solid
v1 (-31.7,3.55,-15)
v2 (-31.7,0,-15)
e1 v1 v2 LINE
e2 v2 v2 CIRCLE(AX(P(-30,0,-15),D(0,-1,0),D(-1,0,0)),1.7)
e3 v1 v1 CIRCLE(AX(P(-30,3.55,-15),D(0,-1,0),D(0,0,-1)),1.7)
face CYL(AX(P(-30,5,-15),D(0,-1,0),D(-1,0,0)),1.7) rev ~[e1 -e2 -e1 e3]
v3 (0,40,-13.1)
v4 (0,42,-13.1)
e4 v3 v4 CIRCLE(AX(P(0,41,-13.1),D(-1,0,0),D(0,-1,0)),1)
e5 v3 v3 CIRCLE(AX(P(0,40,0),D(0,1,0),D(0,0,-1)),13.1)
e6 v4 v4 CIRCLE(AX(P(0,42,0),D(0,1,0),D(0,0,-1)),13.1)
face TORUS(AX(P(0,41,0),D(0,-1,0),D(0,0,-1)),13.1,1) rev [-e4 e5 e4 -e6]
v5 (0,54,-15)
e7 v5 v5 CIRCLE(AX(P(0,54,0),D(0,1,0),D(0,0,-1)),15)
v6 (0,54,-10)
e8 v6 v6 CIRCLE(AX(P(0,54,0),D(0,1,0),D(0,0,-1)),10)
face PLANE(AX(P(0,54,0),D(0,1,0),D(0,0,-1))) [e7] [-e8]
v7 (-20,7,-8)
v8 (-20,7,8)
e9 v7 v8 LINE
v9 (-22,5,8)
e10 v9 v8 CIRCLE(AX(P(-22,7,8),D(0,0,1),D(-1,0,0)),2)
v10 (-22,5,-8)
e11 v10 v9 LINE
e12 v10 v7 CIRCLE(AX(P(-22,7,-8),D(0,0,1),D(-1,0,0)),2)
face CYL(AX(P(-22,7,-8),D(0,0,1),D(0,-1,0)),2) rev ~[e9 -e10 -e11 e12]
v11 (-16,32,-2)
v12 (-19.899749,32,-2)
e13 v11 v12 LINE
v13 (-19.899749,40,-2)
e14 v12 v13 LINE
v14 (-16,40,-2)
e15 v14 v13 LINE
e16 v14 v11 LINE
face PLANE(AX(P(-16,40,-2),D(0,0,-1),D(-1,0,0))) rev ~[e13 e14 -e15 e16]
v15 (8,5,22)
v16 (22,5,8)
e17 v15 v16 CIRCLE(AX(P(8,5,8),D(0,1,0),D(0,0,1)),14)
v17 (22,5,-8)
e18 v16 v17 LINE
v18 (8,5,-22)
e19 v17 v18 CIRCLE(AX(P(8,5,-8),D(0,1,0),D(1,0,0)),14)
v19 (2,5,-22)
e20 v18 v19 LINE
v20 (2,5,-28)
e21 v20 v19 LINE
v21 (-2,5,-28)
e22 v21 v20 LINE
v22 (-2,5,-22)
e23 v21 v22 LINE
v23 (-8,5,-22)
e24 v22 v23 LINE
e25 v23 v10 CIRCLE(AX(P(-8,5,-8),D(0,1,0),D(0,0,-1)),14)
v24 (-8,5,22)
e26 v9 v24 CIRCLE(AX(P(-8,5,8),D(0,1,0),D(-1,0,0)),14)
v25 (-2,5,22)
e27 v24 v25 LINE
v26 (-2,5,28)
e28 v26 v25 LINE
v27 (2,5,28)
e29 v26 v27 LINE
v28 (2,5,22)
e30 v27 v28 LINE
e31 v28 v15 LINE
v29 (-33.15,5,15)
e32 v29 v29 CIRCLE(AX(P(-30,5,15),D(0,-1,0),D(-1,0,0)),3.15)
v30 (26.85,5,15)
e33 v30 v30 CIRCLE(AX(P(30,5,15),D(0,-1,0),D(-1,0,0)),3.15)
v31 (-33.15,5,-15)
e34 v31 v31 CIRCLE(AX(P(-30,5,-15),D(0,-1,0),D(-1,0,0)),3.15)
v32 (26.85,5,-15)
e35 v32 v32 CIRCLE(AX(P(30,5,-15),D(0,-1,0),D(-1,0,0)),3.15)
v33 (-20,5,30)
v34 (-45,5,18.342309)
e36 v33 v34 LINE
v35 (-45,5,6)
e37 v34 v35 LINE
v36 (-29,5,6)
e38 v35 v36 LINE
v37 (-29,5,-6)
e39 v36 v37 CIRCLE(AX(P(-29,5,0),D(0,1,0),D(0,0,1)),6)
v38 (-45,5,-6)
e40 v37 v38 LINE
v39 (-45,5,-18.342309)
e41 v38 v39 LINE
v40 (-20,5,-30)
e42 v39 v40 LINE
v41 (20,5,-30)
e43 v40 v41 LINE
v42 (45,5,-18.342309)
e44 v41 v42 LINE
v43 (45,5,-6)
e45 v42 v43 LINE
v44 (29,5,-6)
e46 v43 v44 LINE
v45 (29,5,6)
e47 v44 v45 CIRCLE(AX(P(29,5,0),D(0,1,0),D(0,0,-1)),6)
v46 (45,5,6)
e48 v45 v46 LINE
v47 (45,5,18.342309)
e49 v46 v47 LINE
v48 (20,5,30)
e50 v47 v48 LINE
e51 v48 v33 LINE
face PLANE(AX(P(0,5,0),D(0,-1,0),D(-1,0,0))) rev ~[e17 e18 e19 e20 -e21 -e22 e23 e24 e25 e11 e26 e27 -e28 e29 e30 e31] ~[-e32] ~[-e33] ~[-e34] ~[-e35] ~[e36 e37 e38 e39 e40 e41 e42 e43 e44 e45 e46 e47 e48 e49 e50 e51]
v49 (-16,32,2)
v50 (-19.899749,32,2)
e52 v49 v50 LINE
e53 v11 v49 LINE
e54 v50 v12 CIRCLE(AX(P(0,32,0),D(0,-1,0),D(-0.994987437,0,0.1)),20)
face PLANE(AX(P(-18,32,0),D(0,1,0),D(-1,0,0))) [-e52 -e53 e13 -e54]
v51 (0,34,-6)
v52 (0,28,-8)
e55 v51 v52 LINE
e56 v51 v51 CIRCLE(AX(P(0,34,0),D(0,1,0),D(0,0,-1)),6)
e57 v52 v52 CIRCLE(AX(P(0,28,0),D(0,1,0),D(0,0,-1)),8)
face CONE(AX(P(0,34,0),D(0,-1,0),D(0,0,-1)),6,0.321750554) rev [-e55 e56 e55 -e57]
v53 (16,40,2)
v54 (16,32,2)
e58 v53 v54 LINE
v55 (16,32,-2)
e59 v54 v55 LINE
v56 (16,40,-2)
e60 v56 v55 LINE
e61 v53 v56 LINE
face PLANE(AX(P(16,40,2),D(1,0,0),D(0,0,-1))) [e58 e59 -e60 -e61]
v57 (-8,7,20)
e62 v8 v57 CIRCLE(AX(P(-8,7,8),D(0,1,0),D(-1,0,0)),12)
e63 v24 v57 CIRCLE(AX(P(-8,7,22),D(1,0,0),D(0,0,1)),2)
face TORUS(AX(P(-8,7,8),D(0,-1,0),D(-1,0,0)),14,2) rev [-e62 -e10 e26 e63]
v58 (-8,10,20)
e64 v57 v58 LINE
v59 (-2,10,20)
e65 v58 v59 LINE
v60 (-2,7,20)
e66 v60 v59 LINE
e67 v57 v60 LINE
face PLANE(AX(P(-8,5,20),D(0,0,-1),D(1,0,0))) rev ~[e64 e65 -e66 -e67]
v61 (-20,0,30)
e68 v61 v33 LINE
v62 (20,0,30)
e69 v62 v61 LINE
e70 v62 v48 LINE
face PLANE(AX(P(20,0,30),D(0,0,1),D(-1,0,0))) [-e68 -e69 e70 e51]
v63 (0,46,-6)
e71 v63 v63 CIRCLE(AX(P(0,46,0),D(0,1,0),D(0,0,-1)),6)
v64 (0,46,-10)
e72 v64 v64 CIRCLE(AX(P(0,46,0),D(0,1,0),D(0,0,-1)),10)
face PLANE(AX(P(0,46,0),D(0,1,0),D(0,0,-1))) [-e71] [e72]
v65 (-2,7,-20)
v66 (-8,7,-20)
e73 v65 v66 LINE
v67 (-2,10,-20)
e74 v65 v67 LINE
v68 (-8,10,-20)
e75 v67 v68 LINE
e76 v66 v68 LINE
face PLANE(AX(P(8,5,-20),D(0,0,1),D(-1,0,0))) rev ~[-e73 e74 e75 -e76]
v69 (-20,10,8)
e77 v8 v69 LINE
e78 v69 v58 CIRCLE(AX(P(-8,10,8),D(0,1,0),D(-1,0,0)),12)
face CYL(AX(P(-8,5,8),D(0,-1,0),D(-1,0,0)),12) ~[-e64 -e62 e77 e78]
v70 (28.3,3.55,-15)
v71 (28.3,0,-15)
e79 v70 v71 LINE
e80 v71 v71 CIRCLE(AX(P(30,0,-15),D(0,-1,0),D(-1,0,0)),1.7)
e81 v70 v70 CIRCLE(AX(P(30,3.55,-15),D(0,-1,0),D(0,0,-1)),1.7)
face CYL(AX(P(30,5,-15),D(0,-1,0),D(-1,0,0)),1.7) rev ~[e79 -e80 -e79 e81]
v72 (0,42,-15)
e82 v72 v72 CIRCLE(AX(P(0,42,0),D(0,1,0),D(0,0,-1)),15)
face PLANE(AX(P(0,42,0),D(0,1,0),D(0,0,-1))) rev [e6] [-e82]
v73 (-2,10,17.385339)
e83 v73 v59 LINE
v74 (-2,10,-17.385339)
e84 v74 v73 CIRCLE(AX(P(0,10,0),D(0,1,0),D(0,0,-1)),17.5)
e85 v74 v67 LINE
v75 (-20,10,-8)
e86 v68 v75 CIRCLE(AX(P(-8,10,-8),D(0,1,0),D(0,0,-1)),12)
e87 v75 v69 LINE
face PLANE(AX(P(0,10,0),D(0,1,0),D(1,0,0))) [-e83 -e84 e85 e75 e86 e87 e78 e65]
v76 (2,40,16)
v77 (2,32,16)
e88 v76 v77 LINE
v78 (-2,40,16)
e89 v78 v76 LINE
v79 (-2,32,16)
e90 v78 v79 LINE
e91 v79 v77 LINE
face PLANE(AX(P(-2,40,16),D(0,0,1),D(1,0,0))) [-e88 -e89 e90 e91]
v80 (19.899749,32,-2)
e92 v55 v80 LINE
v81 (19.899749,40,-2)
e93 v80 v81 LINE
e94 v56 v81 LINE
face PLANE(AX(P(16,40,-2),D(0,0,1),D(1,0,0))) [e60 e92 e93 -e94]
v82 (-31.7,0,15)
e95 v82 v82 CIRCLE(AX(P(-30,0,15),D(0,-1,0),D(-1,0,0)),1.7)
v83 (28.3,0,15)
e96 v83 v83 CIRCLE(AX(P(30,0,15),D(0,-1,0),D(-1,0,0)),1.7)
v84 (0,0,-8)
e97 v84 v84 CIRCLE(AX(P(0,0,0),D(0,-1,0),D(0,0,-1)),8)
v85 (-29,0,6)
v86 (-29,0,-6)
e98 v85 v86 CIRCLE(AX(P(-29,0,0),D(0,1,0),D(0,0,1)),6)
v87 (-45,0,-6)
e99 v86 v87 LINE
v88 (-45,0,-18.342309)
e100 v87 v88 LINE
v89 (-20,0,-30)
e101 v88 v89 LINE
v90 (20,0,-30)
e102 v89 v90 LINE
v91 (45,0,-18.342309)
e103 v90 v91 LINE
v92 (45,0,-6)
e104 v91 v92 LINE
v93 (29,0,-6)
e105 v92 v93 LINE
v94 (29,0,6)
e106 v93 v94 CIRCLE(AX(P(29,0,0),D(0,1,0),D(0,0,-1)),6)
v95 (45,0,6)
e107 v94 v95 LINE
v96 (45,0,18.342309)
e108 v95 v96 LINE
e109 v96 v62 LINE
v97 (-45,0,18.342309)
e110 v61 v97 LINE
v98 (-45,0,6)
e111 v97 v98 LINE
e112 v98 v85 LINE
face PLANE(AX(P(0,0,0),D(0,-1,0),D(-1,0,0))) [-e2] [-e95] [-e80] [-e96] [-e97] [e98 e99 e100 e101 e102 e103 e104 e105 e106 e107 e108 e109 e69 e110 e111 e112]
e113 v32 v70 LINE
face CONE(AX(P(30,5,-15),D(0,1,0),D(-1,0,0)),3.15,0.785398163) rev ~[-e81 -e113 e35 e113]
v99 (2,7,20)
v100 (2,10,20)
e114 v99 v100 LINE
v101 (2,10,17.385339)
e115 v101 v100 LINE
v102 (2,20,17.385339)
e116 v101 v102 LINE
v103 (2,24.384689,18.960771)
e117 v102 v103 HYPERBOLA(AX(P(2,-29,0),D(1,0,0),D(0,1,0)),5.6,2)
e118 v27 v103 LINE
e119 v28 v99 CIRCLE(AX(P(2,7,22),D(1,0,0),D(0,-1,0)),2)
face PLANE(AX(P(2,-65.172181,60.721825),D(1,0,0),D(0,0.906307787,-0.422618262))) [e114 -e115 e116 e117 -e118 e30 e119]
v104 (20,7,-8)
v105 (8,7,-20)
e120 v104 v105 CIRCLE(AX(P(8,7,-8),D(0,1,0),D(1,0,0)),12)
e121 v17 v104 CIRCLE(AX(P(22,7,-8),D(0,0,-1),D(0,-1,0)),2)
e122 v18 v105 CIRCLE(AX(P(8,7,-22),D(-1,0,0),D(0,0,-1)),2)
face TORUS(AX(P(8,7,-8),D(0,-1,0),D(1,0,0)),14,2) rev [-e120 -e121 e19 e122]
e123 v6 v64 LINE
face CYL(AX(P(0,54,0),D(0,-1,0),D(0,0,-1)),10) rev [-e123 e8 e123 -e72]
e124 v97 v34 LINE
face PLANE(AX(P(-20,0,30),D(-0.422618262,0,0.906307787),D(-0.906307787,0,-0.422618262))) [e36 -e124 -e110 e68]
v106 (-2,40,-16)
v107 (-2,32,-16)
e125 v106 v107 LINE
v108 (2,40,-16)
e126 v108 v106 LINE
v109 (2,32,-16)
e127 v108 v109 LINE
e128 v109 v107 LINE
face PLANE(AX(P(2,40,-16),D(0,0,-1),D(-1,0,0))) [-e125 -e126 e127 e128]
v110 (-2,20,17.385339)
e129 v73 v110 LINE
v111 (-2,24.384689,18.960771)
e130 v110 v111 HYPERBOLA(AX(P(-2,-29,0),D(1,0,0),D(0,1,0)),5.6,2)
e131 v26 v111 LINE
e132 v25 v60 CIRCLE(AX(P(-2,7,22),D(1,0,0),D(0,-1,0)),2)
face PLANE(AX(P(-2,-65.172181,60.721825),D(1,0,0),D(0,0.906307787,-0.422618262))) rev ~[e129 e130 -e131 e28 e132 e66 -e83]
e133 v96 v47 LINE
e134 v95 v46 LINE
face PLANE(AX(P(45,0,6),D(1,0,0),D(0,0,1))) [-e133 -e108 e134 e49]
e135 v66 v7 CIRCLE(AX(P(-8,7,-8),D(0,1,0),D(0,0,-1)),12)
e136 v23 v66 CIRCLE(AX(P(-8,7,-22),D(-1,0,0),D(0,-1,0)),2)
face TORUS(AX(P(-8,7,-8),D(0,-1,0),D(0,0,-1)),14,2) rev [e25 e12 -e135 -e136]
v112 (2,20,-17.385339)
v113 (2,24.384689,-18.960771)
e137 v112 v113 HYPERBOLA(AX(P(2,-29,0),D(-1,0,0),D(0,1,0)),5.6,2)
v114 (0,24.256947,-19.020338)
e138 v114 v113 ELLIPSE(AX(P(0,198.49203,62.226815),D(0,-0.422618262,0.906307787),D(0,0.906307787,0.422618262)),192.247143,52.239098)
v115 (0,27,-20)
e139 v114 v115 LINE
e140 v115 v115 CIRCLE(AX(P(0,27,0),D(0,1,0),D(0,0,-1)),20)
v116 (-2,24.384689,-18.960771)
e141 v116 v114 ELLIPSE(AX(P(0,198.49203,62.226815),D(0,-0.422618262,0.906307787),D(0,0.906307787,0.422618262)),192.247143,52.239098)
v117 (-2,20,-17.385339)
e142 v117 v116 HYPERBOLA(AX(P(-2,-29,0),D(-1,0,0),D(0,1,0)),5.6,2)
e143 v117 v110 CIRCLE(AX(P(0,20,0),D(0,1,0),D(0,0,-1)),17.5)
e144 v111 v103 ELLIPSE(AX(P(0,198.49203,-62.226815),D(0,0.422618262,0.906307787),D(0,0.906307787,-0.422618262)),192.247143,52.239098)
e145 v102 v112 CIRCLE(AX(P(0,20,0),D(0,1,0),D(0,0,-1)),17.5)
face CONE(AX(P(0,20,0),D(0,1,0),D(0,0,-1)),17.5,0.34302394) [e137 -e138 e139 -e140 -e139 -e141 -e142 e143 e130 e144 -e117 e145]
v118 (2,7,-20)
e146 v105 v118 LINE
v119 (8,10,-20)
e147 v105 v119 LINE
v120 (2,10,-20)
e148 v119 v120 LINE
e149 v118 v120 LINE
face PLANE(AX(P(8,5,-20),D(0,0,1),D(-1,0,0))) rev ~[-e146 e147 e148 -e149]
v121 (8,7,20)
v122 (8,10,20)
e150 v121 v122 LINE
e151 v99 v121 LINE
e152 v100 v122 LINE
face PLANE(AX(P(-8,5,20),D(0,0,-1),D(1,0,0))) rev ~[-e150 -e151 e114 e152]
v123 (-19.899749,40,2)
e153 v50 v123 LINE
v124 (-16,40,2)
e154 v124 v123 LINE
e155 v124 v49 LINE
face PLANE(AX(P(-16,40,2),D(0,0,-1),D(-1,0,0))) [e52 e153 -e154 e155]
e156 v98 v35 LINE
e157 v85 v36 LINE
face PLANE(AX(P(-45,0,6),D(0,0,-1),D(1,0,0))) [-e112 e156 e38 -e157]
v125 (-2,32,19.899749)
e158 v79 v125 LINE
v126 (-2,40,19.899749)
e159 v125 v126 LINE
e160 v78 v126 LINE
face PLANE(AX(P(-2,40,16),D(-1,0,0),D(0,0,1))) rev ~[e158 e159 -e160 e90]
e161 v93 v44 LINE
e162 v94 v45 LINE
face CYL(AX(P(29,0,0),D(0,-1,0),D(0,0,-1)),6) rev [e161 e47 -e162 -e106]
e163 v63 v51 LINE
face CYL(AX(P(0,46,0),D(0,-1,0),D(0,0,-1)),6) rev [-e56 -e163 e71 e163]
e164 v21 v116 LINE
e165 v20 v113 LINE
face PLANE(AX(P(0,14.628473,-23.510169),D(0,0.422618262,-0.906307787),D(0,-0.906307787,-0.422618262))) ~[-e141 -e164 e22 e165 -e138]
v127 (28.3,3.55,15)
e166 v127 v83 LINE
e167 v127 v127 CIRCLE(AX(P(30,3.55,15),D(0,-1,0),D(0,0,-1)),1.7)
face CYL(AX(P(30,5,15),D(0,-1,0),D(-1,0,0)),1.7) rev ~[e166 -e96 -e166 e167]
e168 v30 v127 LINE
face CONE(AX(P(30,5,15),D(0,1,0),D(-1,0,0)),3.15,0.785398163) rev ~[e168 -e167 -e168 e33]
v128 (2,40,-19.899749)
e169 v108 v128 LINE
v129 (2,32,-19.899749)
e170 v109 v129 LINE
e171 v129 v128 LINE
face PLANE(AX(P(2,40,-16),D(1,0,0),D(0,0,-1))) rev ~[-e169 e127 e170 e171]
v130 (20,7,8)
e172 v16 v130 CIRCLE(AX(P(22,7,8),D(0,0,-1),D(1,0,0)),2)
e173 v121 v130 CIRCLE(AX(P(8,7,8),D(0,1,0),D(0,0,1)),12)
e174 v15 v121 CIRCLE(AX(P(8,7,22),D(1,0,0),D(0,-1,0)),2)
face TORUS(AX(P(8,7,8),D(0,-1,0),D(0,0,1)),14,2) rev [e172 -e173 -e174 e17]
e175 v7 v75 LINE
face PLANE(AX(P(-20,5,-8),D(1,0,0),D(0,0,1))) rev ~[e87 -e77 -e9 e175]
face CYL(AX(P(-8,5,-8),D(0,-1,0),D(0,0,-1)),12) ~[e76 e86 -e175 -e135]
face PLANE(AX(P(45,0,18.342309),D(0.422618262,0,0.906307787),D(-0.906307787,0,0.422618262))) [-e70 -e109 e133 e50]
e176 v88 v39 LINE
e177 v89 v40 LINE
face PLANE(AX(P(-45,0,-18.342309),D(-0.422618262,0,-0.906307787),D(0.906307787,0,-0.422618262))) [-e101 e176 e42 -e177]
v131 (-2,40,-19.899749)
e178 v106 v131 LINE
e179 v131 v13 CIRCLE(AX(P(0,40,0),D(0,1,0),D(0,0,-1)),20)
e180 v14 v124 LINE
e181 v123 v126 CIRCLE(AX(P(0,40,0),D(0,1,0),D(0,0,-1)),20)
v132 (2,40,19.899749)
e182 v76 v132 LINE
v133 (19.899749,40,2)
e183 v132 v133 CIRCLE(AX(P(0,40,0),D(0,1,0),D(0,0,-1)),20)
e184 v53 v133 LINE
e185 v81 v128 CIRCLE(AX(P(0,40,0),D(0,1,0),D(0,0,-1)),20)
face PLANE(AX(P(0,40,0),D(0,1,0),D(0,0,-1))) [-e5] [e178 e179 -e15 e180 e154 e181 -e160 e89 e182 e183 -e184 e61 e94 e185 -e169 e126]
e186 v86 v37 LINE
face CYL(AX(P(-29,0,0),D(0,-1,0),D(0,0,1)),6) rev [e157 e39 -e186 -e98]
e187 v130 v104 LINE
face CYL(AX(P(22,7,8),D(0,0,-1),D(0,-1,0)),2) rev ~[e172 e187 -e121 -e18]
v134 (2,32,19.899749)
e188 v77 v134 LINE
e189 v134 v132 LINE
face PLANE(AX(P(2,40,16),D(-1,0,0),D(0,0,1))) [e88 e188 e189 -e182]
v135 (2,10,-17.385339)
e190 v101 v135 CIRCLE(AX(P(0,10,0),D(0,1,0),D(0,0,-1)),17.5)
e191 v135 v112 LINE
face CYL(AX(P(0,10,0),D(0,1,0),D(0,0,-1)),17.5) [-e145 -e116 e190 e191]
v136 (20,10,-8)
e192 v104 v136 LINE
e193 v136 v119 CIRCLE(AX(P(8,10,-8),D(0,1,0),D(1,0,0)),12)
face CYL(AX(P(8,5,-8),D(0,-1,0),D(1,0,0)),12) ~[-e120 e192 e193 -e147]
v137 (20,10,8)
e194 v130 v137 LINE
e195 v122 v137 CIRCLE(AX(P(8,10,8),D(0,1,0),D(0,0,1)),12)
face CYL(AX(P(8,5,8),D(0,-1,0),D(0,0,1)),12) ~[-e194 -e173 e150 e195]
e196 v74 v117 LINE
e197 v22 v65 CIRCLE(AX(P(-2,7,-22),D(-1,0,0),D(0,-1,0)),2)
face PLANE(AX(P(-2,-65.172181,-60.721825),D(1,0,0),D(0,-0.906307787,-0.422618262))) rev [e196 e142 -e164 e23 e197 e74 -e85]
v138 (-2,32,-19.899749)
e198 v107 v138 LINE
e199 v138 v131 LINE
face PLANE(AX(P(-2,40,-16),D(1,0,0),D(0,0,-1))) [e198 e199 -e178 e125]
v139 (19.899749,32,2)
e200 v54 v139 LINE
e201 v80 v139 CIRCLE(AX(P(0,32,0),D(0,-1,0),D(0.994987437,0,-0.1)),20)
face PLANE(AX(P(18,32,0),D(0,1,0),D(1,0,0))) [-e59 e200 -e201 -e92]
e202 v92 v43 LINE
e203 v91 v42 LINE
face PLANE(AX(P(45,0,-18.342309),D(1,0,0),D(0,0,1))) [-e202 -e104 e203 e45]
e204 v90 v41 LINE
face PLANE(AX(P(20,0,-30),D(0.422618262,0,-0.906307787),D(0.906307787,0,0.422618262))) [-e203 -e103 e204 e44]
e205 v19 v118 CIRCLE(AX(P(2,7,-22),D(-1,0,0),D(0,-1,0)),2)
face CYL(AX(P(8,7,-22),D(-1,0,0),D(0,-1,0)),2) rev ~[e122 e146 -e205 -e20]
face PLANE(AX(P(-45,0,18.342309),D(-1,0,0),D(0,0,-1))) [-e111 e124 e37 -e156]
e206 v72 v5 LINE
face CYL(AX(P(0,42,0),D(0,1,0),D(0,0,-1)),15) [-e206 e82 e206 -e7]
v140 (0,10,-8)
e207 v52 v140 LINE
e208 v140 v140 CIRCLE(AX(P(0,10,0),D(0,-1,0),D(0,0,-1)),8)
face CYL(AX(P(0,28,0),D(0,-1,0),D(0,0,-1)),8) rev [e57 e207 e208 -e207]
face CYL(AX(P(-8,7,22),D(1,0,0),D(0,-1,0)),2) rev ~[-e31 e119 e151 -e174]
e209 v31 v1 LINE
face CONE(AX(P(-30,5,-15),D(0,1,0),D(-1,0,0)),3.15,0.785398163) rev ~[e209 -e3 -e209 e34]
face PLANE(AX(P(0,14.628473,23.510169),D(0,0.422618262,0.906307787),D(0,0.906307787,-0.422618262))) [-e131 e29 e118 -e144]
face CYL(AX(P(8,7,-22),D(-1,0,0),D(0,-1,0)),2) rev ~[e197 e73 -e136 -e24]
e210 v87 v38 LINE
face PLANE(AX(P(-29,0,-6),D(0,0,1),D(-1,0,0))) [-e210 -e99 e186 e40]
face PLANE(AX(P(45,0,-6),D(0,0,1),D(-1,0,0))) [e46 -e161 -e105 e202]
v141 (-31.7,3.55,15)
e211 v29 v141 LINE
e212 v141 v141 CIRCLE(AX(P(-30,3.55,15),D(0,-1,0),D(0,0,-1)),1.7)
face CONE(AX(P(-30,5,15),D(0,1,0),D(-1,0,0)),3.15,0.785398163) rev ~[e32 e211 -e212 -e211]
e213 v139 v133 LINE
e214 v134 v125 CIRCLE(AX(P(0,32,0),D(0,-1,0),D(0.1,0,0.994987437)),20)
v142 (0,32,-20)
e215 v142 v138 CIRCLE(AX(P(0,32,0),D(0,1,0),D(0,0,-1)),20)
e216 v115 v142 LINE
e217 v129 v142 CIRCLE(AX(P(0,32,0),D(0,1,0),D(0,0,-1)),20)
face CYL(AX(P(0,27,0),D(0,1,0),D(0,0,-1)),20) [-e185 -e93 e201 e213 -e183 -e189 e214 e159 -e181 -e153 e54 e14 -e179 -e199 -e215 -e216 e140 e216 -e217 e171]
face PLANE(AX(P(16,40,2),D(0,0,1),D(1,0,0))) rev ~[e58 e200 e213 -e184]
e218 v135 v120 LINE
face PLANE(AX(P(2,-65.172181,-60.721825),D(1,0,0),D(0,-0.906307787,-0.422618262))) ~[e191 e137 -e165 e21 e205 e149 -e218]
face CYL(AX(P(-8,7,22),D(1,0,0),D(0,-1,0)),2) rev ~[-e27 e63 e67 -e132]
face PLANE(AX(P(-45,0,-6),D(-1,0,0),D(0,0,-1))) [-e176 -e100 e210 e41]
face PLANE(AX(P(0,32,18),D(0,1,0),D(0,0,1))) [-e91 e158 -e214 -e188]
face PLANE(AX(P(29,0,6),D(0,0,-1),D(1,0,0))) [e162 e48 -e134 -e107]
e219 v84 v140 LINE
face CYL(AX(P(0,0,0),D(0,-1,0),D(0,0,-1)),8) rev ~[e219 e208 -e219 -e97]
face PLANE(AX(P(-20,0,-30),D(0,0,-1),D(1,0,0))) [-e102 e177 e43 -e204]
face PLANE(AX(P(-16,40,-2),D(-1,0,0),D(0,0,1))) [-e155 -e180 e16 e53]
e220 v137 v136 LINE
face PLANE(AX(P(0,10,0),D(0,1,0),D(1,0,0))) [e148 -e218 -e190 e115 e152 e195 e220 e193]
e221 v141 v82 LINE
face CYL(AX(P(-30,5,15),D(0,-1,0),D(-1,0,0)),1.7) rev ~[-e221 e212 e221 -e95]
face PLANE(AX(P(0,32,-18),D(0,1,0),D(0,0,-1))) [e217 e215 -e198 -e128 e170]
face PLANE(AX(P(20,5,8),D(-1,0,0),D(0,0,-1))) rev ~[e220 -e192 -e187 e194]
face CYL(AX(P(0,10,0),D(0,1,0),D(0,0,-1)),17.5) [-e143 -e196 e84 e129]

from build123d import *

# Parameters (mm, degrees)
BOSS_EXTRUDE1_DEPTH                                 = 5
CSK_FOR_M3_COUNTERSUNK_FLAT_HEAD_SCREW1_D           = 3.4
CSK_FOR_M3_COUNTERSUNK_FLAT_HEAD_SCREW1_CSINK_D     = 6.3
CSK_FOR_M3_COUNTERSUNK_FLAT_HEAD_SCREW1_CSINK_ANGLE = 90
BOSS_EXTRUDE2_DEPTH                                 = 5
FILLET1_R                                           = 2
SKETCH8_R                                           = 8
CUT_EXTRUDE1_DEPTH                                  = 56
RIB1_REACH                                          = 78.426
SKETCH10_WALL_W                                     = 176.100560442
SKETCH10_WALL_H                                     = 4
SKETCH11_W                                          = 4
SKETCH11_H                                          = 4
CUT_EXTRUDE2_DEPTH                                  = 8
CIRPATTERN1_COUNT                                   = 4


with BuildPart() as part:
    # Sketch2 → Boss-Extrude1 (new body)
    with BuildSketch(Plane(origin=(0, 0, 0), x_dir=(1, 0, 0), z_dir=(0, 1, 0))):
        with BuildLine():
            Line((-20, 30), (20, 30))
            Line((20, 30), (45, 18.342308546))
            Line((45, 18.342308546), (45, 6))
            Line((45, 6), (29, 6))
            ThreePointArc((29, 6), (23, 0), (29, -6))
            Line((29, -6), (45, -6))
            Line((45, -6), (45, -18.342308546))
            Line((45, -18.342308546), (20, -30))
            Line((20, -30), (-20, -30))
            Line((-20, -30), (-45, -18.342308546))
            Line((-45, -18.342308546), (-45, -6))
            Line((-45, -6), (-29, -6))
            ThreePointArc((-29, -6), (-23, 0), (-29, 6))
            Line((-29, 6), (-45, 6))
            Line((-45, 6), (-45, 18.342308546))
            Line((-45, 18.342308546), (-20, 30))
        make_face()
    extrude(amount=BOSS_EXTRUDE1_DEPTH)

    # CSK for M3 Countersunk Flat Head Screw1 (through all)
    with Locations(Plane(origin=(0, 5, 0), x_dir=(1, 0, 0), z_dir=(0, 1, 0))):
        with Locations((-30, 15), (30, -15), (30, 15), (-30, -15)):
            CounterSinkHole(CSK_FOR_M3_COUNTERSUNK_FLAT_HEAD_SCREW1_D / 2, CSK_FOR_M3_COUNTERSUNK_FLAT_HEAD_SCREW1_CSINK_D / 2, counter_sink_angle=CSK_FOR_M3_COUNTERSUNK_FLAT_HEAD_SCREW1_CSINK_ANGLE)

    # Sketch6 → Boss-Extrude2 (add)
    with BuildSketch(Plane(origin=(0, 5, 0), x_dir=(1, 0, 0), z_dir=(0, 1, 0))):
        with BuildLine():
            Line((-8, -20), (8, -20))
            ThreePointArc((8, -20), (16.485281374, -16.485281374), (20, -8))
            Line((20, -8), (20, 8))
            ThreePointArc((20, 8), (16.485281374, 16.485281374), (8, 20))
            Line((8, 20), (-8, 20))
            ThreePointArc((-8, 20), (-16.485281374, 16.485281374), (-20, 8))
            Line((-20, 8), (-20, -8))
            ThreePointArc((-20, -8), (-16.485281374, -16.485281374), (-8, -20))
        make_face()
    extrude(amount=BOSS_EXTRUDE2_DEPTH)

    # Fillet1
    fillet1_edges = [part.edges().sort_by_distance(p)[0] for p in [
        (-16.485281374, 5, 16.485281374),
        (0, 5, 20),
        (16.485281374, 5, 16.485281374),
        (20, 5, 0),
        (16.485281374, 5, -16.485281374),
        (0, 5, -20),
        (-16.485281374, 5, -16.485281374),
        (-20, 5, 0),
    ]]
    fillet(fillet1_edges, radius=FILLET1_R)

    # Sketch8 → Cut-Extrude1 (cut, through all)
    with BuildSketch(Plane.XZ):
        with Locations(Location((0, 0, 0), (0, 0, 270))):
            Circle(SKETCH8_R)
    extrude(amount=-CUT_EXTRUDE1_DEPTH, mode=Mode.SUBTRACT)

    # Sketch9 → Revolve1 (revolve)
    with BuildSketch(Plane.XY, mode=Mode.PRIVATE) as revolve1_sk:
        with BuildLine():
            Line((-8, 10), (-17.5, 10))
            Line((-17.5, 10), (-17.5, 20))
            Line((-17.5, 20), (-20, 27))
            Line((-20, 27), (-20, 40))
            Line((-20, 40), (-13.1, 40))
            ThreePointArc((-13.1, 40), (-12.1, 41), (-13.1, 42))
            Line((-13.1, 42), (-15, 42))
            Line((-15, 42), (-15, 54))
            Line((-15, 54), (-10, 54))
            Line((-10, 54), (-10, 46))
            Line((-10, 46), (-6, 46))
            Line((-6, 46), (-6, 34))
            Line((-6, 34), (-8, 28))
            Line((-8, 28), (-8, 10))
        make_face()
    revolve(revolve1_sk.sketch.rotate(Axis((0, -7.60274032, 0), (0, 1, 0)), 270), axis=Axis((0, -7.60274032, 0), (0, 1, 0)))

    # Sketch10 wall → Rib1 (add, up to next)
    with BuildSketch(Plane(origin=(0, 14.628473456, 23.510169091), x_dir=(0, 0.906307787042, -0.42261826173), z_dir=(0, 0.42261826173, 0.906307787042)), mode=Mode.PRIVATE) as rib1_sk1:
        Rectangle(SKETCH10_WALL_W, SKETCH10_WALL_H)
    rib1_tool1 = extrude(rib1_sk1.sketch, amount=-RIB1_REACH, mode=Mode.PRIVATE) - part.part
    rib1 = rib1_tool1.solids().sort_by_distance((0, 14.628473456, 23.510169091))[0]
    add(rib1)

    # Mirror1: Rib1 across plane
    add(rib1.mirror(Plane.XY))

    # Sketch11 → Cut-Extrude2 (cut)
    with BuildSketch(Plane(origin=(0, 40, 0), x_dir=(1, 0, 0), z_dir=(0, 1, 0))):
        with Locations((18, 0)):
            Rectangle(SKETCH11_W, SKETCH11_H)
    cut_extrude2 = extrude(amount=-CUT_EXTRUDE2_DEPTH, mode=Mode.SUBTRACT)

    # CirPattern1: Cut-Extrude2 ×4 about axis
    cirpattern1_axis = Axis((0, 0, 0), (0, 1, 0))
    for i in range(1, CIRPATTERN1_COUNT):
        add(cut_extrude2.rotate(cirpattern1_axis, i * 360 / CIRPATTERN1_COUNT), mode=Mode.SUBTRACT)


solid = part.part
